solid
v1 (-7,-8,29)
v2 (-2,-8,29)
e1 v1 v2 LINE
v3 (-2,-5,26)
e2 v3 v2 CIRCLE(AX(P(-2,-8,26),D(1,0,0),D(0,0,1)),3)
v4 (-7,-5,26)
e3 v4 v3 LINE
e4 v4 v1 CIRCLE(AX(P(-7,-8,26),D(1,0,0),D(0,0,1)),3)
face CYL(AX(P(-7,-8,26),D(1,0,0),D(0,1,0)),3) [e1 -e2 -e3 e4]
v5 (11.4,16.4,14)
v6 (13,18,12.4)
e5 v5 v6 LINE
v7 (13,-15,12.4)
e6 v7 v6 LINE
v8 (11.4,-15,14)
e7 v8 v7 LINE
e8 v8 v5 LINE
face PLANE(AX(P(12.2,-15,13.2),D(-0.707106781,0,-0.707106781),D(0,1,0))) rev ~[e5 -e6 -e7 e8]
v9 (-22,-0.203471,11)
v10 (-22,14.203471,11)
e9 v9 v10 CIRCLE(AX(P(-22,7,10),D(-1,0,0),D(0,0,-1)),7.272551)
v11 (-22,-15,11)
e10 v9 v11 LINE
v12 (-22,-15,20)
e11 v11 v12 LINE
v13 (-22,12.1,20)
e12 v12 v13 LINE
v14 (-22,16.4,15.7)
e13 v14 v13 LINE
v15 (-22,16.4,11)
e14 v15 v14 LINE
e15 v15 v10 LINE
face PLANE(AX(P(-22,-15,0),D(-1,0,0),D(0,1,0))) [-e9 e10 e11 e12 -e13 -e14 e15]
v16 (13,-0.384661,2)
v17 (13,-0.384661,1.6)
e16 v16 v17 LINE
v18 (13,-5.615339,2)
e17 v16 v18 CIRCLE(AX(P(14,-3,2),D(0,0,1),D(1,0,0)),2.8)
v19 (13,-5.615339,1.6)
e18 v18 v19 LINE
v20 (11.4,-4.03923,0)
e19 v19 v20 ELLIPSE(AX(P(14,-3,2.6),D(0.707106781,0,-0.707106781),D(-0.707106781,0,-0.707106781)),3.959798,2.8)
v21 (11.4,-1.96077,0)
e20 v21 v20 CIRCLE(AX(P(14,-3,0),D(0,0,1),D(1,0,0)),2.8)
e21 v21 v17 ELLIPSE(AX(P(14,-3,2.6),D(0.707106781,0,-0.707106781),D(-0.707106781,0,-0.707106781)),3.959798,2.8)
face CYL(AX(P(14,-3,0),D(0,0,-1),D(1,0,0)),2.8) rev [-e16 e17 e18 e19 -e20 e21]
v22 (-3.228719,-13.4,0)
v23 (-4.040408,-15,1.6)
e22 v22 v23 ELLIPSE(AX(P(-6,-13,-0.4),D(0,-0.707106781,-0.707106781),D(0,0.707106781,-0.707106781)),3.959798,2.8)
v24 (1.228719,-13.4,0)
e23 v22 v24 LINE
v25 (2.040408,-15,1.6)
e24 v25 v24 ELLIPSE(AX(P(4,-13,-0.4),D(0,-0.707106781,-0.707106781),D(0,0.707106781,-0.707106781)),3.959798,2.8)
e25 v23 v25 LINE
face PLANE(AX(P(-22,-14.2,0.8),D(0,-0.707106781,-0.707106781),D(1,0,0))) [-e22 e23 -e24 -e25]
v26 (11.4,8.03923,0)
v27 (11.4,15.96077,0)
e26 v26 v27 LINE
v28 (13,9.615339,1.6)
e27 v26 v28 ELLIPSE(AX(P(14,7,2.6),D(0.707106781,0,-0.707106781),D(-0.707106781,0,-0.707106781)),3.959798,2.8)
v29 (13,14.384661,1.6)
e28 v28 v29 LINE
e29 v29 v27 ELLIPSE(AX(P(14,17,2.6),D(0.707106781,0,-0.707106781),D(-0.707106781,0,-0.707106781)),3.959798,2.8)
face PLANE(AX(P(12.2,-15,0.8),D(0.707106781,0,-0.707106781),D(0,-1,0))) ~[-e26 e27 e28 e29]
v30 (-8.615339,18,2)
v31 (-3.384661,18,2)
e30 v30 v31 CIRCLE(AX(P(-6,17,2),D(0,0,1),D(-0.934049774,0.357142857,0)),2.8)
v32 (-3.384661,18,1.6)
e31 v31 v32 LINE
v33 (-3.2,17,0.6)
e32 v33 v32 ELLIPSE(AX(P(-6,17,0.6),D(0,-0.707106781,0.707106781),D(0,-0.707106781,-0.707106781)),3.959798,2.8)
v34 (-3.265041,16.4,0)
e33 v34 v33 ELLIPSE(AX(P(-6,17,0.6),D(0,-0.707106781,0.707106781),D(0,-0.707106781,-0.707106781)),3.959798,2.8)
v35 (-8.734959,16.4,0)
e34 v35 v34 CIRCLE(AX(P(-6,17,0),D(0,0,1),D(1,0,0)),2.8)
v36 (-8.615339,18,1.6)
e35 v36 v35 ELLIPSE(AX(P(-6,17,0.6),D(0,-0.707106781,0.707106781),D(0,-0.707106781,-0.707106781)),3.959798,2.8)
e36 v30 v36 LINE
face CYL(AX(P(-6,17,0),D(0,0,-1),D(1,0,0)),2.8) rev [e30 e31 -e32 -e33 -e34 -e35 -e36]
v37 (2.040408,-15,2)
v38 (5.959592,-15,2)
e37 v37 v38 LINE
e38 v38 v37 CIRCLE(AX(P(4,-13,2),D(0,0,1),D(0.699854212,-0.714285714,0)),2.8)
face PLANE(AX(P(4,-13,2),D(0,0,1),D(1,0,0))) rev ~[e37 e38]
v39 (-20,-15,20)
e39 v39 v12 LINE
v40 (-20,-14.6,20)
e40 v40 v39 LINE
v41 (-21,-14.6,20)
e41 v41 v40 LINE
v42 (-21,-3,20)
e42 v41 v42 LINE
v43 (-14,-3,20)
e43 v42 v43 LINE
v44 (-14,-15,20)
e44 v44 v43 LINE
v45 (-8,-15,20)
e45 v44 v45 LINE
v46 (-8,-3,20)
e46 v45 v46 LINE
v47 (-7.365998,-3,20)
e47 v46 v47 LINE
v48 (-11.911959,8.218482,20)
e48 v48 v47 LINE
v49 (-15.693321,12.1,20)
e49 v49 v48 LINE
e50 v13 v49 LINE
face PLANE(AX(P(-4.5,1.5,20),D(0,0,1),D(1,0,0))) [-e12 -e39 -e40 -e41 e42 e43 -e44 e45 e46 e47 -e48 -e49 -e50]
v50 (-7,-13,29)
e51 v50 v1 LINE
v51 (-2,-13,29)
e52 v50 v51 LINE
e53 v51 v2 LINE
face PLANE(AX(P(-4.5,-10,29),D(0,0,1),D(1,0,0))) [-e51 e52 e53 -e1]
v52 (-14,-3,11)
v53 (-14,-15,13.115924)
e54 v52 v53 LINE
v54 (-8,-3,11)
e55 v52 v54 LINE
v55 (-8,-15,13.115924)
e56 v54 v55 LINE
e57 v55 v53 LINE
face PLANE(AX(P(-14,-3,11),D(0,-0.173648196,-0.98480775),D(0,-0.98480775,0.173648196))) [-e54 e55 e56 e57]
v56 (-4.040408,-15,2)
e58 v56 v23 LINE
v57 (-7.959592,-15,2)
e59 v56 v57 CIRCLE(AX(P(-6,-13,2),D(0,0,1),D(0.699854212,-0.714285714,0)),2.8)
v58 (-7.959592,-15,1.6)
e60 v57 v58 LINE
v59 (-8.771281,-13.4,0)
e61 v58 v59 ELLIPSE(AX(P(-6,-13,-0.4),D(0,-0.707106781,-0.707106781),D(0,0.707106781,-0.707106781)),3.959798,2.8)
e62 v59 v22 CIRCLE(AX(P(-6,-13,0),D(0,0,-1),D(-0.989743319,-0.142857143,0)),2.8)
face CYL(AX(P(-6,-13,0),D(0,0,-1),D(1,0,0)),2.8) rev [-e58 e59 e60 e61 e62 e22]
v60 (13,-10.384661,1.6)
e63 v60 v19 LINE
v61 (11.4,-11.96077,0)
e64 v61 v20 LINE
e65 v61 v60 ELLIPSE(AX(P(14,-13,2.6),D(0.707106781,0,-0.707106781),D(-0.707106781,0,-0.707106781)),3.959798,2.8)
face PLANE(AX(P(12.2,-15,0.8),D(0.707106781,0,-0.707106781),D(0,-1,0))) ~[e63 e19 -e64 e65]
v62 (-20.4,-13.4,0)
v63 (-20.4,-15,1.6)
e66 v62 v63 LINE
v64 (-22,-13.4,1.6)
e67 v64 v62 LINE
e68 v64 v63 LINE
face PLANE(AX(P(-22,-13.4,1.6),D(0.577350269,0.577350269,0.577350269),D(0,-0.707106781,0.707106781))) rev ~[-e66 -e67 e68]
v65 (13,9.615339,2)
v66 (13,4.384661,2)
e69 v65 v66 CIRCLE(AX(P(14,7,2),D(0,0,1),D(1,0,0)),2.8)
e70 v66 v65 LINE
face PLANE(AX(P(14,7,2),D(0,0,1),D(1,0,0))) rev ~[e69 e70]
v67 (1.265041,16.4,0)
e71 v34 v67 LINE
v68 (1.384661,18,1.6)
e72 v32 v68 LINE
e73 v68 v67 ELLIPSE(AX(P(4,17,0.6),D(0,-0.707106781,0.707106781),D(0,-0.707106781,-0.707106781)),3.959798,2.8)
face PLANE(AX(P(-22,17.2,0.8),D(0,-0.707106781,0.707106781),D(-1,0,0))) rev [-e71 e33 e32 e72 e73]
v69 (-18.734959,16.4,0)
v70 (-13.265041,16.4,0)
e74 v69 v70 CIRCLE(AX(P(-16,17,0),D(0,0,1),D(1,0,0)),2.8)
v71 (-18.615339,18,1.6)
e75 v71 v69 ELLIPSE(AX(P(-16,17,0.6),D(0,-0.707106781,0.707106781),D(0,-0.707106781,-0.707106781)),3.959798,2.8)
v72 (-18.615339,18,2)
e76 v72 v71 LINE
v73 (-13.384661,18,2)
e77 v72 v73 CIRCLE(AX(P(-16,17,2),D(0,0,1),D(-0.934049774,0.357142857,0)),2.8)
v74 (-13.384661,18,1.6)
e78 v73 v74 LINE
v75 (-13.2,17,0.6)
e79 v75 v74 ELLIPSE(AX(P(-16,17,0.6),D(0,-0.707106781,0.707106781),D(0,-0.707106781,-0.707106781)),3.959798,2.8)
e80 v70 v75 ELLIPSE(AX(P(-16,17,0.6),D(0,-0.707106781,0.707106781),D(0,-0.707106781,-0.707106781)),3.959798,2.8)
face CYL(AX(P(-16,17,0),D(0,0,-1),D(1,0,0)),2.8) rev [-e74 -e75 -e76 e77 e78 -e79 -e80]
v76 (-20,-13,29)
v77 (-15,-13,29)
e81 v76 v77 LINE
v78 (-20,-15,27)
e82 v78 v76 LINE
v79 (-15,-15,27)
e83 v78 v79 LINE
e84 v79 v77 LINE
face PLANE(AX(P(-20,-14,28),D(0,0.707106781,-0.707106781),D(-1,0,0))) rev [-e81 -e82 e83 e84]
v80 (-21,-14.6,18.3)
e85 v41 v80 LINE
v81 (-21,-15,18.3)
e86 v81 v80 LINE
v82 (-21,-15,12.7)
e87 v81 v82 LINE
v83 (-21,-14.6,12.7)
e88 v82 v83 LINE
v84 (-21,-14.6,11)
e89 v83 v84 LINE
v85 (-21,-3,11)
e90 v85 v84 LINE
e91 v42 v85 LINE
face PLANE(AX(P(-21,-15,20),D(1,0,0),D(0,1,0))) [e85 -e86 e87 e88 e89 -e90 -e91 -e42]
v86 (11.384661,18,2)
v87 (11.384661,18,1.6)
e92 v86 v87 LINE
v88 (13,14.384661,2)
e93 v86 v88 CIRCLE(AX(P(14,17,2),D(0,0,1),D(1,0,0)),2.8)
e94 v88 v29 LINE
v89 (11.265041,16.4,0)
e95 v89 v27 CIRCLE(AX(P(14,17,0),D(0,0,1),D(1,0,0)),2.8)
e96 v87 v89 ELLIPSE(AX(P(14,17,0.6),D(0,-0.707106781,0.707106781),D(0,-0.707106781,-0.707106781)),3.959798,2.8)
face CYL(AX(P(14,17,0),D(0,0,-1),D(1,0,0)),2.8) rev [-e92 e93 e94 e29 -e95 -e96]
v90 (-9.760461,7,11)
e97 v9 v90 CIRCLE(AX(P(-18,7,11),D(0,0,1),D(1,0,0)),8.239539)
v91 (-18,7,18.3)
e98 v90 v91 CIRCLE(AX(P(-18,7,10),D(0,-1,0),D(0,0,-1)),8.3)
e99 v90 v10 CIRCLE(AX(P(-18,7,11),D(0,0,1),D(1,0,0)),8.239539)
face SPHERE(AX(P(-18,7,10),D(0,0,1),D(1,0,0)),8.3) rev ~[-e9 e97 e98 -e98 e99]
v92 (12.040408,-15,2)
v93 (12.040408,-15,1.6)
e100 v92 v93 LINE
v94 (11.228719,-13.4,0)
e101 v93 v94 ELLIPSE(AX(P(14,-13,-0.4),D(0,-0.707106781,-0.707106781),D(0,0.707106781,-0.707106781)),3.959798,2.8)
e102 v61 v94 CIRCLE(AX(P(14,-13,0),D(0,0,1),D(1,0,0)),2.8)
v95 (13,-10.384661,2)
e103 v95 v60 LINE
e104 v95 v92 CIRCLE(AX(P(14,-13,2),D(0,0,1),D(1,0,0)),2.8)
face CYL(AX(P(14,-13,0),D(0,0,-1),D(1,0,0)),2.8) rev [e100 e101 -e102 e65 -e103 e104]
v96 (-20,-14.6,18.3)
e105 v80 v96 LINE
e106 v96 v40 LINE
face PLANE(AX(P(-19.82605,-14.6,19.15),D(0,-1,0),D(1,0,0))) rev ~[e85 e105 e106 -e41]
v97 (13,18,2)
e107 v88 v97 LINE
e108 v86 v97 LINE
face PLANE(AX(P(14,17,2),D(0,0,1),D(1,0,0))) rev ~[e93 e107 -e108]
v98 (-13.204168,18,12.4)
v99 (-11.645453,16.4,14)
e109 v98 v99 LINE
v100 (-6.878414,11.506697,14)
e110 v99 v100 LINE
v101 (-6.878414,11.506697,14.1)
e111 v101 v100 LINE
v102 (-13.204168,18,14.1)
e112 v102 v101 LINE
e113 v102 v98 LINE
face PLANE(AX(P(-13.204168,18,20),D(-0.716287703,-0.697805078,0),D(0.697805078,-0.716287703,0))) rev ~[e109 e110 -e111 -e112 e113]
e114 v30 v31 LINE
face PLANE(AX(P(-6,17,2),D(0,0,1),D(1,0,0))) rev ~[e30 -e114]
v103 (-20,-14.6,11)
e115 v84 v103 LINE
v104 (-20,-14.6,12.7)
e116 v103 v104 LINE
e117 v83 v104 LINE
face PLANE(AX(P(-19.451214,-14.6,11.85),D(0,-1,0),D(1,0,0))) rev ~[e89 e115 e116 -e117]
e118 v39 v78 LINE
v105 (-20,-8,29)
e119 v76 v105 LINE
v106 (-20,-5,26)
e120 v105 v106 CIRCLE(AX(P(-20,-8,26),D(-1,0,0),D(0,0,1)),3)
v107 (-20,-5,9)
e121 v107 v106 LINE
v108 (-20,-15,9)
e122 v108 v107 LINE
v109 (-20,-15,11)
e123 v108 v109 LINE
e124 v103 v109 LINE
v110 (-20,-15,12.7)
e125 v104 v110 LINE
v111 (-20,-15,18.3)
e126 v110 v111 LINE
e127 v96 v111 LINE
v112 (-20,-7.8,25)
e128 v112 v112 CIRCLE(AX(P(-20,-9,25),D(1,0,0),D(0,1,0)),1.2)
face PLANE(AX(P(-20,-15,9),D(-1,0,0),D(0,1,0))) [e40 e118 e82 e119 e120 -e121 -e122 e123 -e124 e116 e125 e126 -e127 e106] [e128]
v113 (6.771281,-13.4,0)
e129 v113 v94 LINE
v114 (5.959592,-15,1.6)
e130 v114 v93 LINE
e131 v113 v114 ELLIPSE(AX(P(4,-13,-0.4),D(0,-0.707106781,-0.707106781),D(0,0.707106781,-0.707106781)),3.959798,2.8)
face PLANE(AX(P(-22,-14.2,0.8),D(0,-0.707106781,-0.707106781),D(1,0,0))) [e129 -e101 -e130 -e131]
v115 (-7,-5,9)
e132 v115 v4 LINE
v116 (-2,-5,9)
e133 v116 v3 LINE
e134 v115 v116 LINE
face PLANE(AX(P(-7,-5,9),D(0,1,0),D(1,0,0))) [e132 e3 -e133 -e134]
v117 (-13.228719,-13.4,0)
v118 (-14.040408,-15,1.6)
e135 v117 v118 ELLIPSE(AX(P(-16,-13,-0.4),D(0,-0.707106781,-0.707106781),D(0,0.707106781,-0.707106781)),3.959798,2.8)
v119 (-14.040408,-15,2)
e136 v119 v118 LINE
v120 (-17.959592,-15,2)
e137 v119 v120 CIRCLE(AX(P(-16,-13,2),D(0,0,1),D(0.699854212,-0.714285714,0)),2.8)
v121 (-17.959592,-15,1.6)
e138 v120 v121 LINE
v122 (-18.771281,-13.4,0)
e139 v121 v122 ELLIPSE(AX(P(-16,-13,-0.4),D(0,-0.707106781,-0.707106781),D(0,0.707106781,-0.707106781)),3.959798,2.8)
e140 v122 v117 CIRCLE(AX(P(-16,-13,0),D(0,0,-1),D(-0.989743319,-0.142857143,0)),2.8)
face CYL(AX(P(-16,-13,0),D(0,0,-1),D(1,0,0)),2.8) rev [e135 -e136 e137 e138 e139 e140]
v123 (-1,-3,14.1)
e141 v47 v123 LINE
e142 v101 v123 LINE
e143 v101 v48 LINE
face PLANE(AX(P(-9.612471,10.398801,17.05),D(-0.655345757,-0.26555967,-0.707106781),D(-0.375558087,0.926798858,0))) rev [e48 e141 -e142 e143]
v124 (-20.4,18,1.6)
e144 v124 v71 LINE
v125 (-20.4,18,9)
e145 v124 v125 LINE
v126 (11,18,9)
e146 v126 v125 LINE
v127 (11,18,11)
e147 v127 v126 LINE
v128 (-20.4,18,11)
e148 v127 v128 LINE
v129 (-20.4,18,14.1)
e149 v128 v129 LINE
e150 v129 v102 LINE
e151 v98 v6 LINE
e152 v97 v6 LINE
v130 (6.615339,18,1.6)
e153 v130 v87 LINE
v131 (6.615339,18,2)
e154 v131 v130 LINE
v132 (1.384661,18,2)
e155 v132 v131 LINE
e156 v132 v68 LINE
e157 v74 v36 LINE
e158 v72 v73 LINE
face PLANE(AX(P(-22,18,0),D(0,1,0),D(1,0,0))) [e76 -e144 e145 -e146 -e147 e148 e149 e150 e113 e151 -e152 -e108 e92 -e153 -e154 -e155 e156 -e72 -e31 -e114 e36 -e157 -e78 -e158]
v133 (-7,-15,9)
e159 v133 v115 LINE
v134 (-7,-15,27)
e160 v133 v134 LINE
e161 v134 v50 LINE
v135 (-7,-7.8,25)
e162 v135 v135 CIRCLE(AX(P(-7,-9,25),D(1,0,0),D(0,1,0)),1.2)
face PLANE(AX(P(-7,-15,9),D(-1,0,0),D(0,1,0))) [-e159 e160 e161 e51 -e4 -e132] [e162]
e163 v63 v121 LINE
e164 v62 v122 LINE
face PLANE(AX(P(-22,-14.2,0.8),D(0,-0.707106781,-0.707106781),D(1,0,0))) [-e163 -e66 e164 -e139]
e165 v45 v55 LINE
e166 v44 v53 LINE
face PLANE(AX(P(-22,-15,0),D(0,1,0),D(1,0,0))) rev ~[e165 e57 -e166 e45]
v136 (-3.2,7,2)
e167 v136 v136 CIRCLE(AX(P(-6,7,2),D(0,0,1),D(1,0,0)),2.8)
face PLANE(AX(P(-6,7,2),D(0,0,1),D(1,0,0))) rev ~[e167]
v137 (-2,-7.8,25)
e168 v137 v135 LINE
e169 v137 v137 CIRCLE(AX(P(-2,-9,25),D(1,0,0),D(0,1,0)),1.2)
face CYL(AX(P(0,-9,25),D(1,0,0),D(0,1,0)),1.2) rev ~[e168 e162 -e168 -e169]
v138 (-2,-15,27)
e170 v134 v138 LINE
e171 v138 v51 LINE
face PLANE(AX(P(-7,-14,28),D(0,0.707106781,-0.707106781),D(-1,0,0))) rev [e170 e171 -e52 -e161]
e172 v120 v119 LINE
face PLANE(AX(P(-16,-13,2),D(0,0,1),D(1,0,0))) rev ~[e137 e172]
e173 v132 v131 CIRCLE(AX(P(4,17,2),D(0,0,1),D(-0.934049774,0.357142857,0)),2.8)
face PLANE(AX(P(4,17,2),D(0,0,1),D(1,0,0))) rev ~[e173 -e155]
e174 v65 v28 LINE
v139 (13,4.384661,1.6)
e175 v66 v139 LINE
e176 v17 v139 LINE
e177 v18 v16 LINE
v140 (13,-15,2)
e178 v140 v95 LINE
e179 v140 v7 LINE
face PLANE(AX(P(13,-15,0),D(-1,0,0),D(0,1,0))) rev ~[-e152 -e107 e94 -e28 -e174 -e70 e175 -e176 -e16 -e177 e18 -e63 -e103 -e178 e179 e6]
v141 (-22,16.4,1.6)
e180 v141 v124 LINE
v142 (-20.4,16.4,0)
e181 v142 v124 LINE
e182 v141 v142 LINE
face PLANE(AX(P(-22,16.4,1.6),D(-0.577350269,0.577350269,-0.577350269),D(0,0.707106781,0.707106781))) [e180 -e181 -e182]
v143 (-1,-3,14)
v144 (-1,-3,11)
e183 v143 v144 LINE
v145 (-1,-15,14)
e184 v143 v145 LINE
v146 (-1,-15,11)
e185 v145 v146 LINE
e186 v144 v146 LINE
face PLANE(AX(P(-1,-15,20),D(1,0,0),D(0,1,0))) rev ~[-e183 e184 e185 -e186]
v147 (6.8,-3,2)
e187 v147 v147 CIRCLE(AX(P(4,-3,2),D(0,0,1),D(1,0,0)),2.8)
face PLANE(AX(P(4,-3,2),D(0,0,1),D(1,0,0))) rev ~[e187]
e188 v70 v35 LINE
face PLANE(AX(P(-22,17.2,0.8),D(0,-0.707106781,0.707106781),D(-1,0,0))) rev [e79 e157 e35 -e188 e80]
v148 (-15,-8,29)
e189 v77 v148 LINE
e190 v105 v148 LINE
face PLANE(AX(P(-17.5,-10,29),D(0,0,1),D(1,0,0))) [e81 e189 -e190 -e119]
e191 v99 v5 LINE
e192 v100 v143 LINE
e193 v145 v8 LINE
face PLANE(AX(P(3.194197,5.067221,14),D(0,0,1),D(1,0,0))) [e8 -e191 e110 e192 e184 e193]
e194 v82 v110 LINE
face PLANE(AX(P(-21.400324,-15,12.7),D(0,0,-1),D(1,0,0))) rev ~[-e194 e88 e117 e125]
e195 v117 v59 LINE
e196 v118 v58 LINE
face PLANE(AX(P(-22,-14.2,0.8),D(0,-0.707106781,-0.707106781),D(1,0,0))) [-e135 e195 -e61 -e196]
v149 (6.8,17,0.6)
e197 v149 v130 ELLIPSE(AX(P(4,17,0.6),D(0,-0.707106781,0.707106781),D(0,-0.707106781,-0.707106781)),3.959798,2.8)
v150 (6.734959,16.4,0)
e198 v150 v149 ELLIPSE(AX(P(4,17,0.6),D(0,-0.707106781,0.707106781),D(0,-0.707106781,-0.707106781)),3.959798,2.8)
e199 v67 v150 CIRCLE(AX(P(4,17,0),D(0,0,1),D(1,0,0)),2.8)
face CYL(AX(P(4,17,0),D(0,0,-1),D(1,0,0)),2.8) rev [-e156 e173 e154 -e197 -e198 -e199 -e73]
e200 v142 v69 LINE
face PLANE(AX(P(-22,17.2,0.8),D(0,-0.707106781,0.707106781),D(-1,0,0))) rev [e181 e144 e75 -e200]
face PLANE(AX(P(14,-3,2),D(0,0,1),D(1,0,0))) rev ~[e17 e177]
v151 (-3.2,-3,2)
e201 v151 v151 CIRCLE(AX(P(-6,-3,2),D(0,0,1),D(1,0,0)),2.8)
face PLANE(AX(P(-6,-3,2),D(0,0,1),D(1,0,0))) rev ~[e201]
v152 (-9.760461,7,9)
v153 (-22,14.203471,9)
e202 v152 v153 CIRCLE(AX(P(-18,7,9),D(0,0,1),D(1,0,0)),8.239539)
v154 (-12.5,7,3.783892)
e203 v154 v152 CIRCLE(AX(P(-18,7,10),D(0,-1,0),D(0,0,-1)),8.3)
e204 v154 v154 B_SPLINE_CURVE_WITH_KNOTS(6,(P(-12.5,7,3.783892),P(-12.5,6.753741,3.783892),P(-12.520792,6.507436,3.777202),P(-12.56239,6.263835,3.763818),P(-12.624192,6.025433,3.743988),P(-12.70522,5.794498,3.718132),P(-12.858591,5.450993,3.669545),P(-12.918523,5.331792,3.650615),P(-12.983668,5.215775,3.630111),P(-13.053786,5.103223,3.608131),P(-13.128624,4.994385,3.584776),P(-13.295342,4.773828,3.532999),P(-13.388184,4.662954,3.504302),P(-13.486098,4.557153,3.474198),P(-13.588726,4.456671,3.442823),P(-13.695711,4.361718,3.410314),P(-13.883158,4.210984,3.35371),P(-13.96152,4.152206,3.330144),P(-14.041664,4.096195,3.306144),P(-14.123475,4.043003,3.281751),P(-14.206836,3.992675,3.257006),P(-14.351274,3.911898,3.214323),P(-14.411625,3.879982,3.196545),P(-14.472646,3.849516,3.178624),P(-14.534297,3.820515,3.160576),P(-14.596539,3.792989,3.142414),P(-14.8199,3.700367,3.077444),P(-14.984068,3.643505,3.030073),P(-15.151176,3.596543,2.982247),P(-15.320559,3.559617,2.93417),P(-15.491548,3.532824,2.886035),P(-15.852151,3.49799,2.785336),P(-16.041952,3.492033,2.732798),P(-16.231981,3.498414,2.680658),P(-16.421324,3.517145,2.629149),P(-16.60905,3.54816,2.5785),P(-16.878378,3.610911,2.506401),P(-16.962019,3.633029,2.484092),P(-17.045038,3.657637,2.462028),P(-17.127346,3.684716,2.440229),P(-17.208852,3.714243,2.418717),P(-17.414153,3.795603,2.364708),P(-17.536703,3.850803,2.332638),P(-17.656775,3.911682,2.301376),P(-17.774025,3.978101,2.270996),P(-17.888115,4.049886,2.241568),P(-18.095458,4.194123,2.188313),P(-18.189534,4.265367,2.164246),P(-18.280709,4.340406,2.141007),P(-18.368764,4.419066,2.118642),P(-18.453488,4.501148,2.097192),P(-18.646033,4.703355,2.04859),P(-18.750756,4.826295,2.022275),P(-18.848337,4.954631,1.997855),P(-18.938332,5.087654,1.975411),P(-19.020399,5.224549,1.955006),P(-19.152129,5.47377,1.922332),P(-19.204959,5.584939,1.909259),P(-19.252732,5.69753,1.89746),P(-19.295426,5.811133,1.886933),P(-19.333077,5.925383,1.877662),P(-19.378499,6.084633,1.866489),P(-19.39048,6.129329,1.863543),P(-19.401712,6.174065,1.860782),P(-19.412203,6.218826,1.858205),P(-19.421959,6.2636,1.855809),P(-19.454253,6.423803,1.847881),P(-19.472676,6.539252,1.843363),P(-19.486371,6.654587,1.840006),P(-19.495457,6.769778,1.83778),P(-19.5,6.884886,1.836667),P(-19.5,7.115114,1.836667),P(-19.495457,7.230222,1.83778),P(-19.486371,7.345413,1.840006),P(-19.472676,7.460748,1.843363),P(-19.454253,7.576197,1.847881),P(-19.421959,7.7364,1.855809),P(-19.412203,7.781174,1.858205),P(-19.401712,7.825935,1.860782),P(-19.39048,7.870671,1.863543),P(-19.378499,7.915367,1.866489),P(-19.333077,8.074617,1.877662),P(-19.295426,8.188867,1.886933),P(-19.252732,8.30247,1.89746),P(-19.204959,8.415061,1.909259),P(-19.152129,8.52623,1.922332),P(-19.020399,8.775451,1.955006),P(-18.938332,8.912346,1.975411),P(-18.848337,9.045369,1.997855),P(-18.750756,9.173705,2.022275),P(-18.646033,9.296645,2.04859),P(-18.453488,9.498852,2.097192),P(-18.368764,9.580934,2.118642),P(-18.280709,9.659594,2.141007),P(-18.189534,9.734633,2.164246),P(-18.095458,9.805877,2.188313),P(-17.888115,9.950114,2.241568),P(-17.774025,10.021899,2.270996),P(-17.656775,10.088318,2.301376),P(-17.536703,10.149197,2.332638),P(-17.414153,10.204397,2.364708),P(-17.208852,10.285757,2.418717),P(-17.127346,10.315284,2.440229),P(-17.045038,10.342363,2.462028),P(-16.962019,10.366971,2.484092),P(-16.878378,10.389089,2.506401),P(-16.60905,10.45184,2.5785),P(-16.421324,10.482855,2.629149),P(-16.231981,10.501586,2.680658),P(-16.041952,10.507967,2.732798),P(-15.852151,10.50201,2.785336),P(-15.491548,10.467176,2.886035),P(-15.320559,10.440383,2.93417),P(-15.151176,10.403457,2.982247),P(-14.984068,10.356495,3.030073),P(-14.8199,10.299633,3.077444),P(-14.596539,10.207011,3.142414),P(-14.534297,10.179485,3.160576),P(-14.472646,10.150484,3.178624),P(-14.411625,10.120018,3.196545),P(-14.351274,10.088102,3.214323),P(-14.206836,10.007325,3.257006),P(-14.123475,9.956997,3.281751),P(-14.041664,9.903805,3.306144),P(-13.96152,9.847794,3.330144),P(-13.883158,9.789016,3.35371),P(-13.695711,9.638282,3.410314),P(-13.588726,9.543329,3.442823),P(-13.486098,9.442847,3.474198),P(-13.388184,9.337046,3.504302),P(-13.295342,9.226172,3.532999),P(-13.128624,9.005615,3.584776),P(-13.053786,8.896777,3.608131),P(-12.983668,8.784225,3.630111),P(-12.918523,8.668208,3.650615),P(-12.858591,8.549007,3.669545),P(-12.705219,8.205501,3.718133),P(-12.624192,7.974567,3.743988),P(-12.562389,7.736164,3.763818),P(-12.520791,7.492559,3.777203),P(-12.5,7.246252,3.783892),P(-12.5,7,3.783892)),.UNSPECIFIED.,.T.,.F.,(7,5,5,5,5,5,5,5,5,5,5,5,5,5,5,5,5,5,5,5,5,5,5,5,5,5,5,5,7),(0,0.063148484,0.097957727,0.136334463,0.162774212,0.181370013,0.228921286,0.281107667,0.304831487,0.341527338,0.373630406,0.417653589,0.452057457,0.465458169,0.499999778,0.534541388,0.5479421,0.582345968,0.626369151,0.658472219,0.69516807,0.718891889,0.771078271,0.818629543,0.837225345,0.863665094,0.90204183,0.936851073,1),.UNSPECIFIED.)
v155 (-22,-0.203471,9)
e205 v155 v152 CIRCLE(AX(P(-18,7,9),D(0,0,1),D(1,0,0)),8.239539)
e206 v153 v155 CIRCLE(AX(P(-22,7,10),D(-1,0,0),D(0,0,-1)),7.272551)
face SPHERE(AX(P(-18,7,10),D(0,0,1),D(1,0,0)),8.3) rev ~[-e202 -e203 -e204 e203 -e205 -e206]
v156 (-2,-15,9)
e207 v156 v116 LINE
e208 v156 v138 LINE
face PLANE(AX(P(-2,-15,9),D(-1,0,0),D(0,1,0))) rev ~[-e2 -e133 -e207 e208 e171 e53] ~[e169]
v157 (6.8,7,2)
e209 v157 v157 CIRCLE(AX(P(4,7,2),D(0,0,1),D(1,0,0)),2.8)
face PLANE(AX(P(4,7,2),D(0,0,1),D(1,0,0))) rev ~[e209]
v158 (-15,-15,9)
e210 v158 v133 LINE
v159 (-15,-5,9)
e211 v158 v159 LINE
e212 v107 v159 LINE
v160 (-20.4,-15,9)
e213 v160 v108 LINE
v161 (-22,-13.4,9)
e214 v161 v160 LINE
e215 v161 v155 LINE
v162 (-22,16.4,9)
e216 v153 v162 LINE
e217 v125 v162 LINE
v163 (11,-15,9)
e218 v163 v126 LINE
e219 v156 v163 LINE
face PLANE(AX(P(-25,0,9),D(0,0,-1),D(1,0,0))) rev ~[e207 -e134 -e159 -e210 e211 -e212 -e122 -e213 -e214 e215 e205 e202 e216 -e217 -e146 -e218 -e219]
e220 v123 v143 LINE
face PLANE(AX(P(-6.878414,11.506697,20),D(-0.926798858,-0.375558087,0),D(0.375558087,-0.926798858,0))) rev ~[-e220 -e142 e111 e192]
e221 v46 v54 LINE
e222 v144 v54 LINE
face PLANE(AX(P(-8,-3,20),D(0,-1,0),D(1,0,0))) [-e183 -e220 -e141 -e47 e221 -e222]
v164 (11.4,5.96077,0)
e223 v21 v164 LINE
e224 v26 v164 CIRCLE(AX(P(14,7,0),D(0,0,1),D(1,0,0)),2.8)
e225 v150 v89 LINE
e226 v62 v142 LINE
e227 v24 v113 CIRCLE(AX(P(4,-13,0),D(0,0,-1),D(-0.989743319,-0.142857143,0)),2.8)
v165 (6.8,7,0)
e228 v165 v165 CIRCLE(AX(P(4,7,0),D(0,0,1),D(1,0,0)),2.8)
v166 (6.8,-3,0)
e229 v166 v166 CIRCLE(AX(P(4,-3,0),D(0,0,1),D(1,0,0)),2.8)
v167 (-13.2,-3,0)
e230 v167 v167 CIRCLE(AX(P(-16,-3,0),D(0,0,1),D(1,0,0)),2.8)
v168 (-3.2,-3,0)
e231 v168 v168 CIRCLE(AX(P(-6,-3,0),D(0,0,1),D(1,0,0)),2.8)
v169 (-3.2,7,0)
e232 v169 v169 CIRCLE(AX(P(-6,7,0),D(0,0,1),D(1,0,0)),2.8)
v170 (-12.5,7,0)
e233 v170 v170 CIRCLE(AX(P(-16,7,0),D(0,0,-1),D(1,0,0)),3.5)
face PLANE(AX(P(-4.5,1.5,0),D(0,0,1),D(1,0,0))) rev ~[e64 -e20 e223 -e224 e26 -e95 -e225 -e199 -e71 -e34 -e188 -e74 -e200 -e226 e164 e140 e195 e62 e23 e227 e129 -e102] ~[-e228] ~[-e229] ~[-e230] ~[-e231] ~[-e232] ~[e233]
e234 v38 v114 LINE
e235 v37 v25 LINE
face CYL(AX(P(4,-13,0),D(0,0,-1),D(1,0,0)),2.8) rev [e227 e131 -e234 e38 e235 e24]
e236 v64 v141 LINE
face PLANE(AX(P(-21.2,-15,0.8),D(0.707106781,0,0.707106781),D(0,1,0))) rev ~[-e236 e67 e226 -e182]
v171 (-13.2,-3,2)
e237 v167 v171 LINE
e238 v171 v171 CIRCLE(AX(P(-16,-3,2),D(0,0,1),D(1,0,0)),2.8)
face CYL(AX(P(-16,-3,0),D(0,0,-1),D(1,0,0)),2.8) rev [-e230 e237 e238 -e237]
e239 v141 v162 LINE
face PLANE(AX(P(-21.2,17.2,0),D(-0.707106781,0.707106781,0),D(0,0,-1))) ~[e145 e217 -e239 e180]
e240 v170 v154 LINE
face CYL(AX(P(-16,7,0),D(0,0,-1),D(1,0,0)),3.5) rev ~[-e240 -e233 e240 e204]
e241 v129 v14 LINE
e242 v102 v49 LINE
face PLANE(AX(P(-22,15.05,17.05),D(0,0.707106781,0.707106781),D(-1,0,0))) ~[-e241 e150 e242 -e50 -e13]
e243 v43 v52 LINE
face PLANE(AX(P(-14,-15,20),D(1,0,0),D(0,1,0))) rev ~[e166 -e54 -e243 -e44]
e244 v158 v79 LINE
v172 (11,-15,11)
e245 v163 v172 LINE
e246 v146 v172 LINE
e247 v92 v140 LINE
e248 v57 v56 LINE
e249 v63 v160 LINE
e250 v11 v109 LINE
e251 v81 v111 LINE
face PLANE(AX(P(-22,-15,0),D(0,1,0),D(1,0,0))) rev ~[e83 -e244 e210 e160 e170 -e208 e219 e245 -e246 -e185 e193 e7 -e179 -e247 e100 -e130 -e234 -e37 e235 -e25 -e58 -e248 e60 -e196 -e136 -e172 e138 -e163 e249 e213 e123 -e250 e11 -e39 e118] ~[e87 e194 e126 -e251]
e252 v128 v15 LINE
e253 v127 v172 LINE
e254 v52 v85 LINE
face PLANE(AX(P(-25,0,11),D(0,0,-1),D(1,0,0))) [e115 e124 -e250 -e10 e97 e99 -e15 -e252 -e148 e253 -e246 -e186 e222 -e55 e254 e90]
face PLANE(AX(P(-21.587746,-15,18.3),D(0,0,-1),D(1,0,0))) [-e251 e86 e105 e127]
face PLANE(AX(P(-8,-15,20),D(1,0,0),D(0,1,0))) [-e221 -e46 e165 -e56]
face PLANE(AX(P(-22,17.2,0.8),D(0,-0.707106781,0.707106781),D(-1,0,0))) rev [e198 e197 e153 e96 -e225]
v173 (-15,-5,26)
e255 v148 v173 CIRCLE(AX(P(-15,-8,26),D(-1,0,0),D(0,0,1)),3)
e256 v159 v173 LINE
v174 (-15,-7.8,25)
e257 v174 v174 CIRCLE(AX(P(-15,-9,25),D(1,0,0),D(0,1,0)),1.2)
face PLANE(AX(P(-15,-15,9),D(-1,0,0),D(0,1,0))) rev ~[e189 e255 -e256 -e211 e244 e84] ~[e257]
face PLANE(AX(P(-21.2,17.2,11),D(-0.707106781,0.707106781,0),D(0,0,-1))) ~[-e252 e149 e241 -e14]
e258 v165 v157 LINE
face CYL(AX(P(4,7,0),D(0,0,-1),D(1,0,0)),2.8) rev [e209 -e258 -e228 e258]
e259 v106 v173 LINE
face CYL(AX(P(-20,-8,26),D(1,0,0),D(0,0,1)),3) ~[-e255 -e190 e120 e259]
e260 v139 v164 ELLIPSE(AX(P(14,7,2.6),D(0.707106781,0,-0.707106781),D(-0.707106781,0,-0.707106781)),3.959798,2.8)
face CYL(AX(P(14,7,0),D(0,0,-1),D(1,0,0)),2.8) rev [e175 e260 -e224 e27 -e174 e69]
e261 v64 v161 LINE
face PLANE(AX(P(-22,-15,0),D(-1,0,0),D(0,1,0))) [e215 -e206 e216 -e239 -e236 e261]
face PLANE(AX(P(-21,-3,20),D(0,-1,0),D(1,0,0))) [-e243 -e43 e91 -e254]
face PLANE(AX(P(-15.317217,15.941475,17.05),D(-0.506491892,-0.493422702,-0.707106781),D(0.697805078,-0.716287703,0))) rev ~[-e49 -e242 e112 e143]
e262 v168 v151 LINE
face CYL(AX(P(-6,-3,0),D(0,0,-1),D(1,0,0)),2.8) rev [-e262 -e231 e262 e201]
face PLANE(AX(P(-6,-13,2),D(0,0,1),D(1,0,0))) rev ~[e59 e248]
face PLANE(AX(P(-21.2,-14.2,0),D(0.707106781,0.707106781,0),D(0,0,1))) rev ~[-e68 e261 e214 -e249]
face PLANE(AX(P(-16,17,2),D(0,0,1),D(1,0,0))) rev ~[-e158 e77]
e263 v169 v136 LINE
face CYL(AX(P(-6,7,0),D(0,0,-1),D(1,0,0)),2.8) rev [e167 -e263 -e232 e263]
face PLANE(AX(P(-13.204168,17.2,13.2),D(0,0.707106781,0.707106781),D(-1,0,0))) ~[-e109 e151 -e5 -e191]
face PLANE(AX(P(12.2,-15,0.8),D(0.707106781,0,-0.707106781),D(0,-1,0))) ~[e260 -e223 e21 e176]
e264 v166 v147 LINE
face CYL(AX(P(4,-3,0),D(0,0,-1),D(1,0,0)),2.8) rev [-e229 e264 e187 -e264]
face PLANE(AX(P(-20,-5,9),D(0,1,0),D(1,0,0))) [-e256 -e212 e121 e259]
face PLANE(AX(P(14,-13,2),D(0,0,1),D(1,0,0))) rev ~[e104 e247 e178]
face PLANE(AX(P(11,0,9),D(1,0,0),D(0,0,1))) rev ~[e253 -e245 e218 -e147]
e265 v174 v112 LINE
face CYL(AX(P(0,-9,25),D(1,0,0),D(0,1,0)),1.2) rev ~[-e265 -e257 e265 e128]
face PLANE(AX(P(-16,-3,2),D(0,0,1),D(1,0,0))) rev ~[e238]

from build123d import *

# Parameters (mm, degrees)
SKETCH_W             = 35
SKETCH_H             = 33
PAD_DEPTH            = 20
SKETCH001_W          = 7
SKETCH001_H          = 12
POCKET_DEPTH         = 10
SKETCH004_W          = 36
SKETCH004_H          = 2
POCKET002_DEPTH      = 18.001
POCKET002_DEPTH_BACK = 15.001
SKETCH002_W          = 5
SKETCH002_H          = 10
PAD001_DEPTH         = 20
SKETCH003_R          = 1.2
POCKET001_DEPTH      = 22.001
POCKET003_DEPTH      = 6
CHAMFER_SIZE         = 5.9
CHAMFER001_SIZE      = 1.6
CHAMFER002_SIZE      = 2
FILLET_R             = 3
SKETCH010_R          = 2.8
POCKET006_DEPTH      = 2
LINEARPATTERN_COUNT  = 4
LINEARPATTERN_PITCH  = 10
SKETCH012_R          = 3.5
POCKET007_DEPTH      = 8
SKETCH013_W          = 3.523392
SKETCH013_H          = 1.7
SKETCH013_W_2        = 3.89822
PAD003_DEPTH         = 0.4
POCKET008_DEPTH      = 6


with BuildPart() as sphere:
    # Sphere → Sphere (revolve)
    with BuildSketch(Plane(origin=(-18, 7, 10), x_dir=(1, 0, 0), z_dir=(0, -1, 0))):
        with BuildLine():
            ThreePointArc((0, -8.3), (8.3, 0), (0, 8.3))
            Line((0, 8.3), (0, -8.3))
        make_face()
    revolve(axis=Axis((-18, 7, 10), (0, 0, 1)))


with BuildPart() as socket:
    # Sketch → Pad (new body)
    with BuildSketch(Plane.XY):
        with Locations((-4.5, 1.5)):
            Rectangle(SKETCH_W, SKETCH_H)
    extrude(amount=PAD_DEPTH)

    # Sketch001 (on Face6 of Pad) → Pocket (cut)
    with BuildSketch(Plane.XY.offset(20)):
        with Locations((-17.5, -9)):
            Rectangle(SKETCH001_W, SKETCH001_H)
        with Locations((-4.5, -9)):
            Rectangle(SKETCH001_W, SKETCH001_H)
    extrude(amount=-POCKET_DEPTH, mode=Mode.SUBTRACT)

    # Sketch004 → Pocket002 (cut, two sides)
    with BuildSketch(Plane.XZ) as pocket002_sk:
        with Locations((-7, 10)):
            Rectangle(SKETCH004_W, SKETCH004_H)
    extrude(amount=-POCKET002_DEPTH, mode=Mode.SUBTRACT)
    extrude(pocket002_sk.sketch, amount=POCKET002_DEPTH_BACK, mode=Mode.SUBTRACT)

    # Sketch002 (on Face8 of Pocket002) → Pad001 (join)
    with BuildSketch(Plane.XY.offset(9)):
        with Locations((-17.5, -10)):
            Rectangle(SKETCH002_W, SKETCH002_H)
        with Locations((-4.5, -10)):
            Rectangle(SKETCH002_W, SKETCH002_H)
    extrude(amount=PAD001_DEPTH)

    # Sketch003 → Pocket001 (cut, through all)
    with BuildSketch(Plane.YZ):
        with Locations((-9, 25)):
            Circle(SKETCH003_R)
    extrude(amount=-POCKET001_DEPTH, mode=Mode.SUBTRACT)

    # Sketch005 (on Face4 of Pocket001) → Pocket003 (cut)
    with BuildSketch(Plane.XY.offset(20)):
        Polygon((-6.878414, 11.506697), (-1, -3), (-1, -16.521692), (16.145611, -16.521692), (16.145611, 20.333527), (-18.556482, 20.333527), (-13.204168, 18), align=None)
    extrude(amount=-POCKET003_DEPTH, mode=Mode.SUBTRACT)

    # Chamfer
    chamfer_edges = [socket.edges().sort_by_distance(p)[0] for p in [
        (-17.602084, 18, 20),
        (-10.041291, 14.753349, 20),
        (-3.939207, 4.253349, 20),
    ]]
    chamfer(chamfer_edges, length=CHAMFER_SIZE)

    # Chamfer001
    chamfer001_edges = [socket.edges().sort_by_distance(p)[0] for p in [
        (-4.5, 18, 0),
        (13, 1.5, 0),
        (-4.5, -15, 0),
        (-22, 1.5, 0),
        (-22, 18, 4.5),
        (-22, -15, 4.5),
        (-22, 18, 12.55),
        (13, 1.5, 14),
        (-0.102084, 18, 14),
    ]]
    chamfer(chamfer001_edges, length=CHAMFER001_SIZE)

    # Chamfer002
    chamfer002_edges = [socket.edges().sort_by_distance(p)[0] for p in [
        (-17.5, -15, 29),
        (-4.5, -15, 29),
    ]]
    chamfer(chamfer002_edges, length=CHAMFER002_SIZE)

    # Fillet
    fillet_edges = [socket.edges().sort_by_distance(p)[0] for p in [
        (-4.5, -5, 29),
        (-17.5, -5, 29),
    ]]
    fillet(fillet_edges, radius=FILLET_R)

    # Sketch010 → Pocket006 (cut)
    with BuildSketch(Plane.XY):
        with Locations((14, -13)):
            Circle(SKETCH010_R)
        with Locations((4, -13)):
            Circle(SKETCH010_R)
        with Locations((-6, -13)):
            Circle(SKETCH010_R)
        with Locations((-16, -13)):
            Circle(SKETCH010_R)
    pocket006 = extrude(amount=POCKET006_DEPTH, mode=Mode.SUBTRACT)

    # LinearPattern: Pocket006 ×4
    with Locations(*[(0, i * LINEARPATTERN_PITCH, 0) for i in range(1, LINEARPATTERN_COUNT)]):
        add(pocket006, mode=Mode.SUBTRACT)

    # Sketch012 (on Face5 of Pad) → Pocket007 (cut)
    with BuildSketch(Plane(origin=(0, 0, 0), x_dir=(1, 0, 0), z_dir=(0, 0, -1))):
        with Locations((-16, -7)):
            Circle(SKETCH012_R)
    extrude(amount=-POCKET007_DEPTH, mode=Mode.SUBTRACT)

    # Sketch013 (on Face3 of Pad) → Pad003 (join)
    with BuildSketch(Plane.XZ.offset(15)):
        with Locations((-19.82605, 19.15)):
            Rectangle(SKETCH013_W, SKETCH013_H)
        with Locations((-19.451214, 11.85)):
            Rectangle(SKETCH013_W_2, SKETCH013_H)
    extrude(amount=-PAD003_DEPTH)

    # Sketch014 (on Face9 of Pocket) → Pocket008 (cut)
    with BuildSketch(Plane(origin=(-14, 0, 0), x_dir=(0, -1, 0), z_dir=(-1, 0, 0))):
        Polygon((3, 11), (23, 14.52654), (23, 11), align=None)
    extrude(amount=-POCKET008_DEPTH, mode=Mode.SUBTRACT)

    # Cut: cut Sphere
    add(sphere.part, mode=Mode.SUBTRACT)


solid = socket.part
